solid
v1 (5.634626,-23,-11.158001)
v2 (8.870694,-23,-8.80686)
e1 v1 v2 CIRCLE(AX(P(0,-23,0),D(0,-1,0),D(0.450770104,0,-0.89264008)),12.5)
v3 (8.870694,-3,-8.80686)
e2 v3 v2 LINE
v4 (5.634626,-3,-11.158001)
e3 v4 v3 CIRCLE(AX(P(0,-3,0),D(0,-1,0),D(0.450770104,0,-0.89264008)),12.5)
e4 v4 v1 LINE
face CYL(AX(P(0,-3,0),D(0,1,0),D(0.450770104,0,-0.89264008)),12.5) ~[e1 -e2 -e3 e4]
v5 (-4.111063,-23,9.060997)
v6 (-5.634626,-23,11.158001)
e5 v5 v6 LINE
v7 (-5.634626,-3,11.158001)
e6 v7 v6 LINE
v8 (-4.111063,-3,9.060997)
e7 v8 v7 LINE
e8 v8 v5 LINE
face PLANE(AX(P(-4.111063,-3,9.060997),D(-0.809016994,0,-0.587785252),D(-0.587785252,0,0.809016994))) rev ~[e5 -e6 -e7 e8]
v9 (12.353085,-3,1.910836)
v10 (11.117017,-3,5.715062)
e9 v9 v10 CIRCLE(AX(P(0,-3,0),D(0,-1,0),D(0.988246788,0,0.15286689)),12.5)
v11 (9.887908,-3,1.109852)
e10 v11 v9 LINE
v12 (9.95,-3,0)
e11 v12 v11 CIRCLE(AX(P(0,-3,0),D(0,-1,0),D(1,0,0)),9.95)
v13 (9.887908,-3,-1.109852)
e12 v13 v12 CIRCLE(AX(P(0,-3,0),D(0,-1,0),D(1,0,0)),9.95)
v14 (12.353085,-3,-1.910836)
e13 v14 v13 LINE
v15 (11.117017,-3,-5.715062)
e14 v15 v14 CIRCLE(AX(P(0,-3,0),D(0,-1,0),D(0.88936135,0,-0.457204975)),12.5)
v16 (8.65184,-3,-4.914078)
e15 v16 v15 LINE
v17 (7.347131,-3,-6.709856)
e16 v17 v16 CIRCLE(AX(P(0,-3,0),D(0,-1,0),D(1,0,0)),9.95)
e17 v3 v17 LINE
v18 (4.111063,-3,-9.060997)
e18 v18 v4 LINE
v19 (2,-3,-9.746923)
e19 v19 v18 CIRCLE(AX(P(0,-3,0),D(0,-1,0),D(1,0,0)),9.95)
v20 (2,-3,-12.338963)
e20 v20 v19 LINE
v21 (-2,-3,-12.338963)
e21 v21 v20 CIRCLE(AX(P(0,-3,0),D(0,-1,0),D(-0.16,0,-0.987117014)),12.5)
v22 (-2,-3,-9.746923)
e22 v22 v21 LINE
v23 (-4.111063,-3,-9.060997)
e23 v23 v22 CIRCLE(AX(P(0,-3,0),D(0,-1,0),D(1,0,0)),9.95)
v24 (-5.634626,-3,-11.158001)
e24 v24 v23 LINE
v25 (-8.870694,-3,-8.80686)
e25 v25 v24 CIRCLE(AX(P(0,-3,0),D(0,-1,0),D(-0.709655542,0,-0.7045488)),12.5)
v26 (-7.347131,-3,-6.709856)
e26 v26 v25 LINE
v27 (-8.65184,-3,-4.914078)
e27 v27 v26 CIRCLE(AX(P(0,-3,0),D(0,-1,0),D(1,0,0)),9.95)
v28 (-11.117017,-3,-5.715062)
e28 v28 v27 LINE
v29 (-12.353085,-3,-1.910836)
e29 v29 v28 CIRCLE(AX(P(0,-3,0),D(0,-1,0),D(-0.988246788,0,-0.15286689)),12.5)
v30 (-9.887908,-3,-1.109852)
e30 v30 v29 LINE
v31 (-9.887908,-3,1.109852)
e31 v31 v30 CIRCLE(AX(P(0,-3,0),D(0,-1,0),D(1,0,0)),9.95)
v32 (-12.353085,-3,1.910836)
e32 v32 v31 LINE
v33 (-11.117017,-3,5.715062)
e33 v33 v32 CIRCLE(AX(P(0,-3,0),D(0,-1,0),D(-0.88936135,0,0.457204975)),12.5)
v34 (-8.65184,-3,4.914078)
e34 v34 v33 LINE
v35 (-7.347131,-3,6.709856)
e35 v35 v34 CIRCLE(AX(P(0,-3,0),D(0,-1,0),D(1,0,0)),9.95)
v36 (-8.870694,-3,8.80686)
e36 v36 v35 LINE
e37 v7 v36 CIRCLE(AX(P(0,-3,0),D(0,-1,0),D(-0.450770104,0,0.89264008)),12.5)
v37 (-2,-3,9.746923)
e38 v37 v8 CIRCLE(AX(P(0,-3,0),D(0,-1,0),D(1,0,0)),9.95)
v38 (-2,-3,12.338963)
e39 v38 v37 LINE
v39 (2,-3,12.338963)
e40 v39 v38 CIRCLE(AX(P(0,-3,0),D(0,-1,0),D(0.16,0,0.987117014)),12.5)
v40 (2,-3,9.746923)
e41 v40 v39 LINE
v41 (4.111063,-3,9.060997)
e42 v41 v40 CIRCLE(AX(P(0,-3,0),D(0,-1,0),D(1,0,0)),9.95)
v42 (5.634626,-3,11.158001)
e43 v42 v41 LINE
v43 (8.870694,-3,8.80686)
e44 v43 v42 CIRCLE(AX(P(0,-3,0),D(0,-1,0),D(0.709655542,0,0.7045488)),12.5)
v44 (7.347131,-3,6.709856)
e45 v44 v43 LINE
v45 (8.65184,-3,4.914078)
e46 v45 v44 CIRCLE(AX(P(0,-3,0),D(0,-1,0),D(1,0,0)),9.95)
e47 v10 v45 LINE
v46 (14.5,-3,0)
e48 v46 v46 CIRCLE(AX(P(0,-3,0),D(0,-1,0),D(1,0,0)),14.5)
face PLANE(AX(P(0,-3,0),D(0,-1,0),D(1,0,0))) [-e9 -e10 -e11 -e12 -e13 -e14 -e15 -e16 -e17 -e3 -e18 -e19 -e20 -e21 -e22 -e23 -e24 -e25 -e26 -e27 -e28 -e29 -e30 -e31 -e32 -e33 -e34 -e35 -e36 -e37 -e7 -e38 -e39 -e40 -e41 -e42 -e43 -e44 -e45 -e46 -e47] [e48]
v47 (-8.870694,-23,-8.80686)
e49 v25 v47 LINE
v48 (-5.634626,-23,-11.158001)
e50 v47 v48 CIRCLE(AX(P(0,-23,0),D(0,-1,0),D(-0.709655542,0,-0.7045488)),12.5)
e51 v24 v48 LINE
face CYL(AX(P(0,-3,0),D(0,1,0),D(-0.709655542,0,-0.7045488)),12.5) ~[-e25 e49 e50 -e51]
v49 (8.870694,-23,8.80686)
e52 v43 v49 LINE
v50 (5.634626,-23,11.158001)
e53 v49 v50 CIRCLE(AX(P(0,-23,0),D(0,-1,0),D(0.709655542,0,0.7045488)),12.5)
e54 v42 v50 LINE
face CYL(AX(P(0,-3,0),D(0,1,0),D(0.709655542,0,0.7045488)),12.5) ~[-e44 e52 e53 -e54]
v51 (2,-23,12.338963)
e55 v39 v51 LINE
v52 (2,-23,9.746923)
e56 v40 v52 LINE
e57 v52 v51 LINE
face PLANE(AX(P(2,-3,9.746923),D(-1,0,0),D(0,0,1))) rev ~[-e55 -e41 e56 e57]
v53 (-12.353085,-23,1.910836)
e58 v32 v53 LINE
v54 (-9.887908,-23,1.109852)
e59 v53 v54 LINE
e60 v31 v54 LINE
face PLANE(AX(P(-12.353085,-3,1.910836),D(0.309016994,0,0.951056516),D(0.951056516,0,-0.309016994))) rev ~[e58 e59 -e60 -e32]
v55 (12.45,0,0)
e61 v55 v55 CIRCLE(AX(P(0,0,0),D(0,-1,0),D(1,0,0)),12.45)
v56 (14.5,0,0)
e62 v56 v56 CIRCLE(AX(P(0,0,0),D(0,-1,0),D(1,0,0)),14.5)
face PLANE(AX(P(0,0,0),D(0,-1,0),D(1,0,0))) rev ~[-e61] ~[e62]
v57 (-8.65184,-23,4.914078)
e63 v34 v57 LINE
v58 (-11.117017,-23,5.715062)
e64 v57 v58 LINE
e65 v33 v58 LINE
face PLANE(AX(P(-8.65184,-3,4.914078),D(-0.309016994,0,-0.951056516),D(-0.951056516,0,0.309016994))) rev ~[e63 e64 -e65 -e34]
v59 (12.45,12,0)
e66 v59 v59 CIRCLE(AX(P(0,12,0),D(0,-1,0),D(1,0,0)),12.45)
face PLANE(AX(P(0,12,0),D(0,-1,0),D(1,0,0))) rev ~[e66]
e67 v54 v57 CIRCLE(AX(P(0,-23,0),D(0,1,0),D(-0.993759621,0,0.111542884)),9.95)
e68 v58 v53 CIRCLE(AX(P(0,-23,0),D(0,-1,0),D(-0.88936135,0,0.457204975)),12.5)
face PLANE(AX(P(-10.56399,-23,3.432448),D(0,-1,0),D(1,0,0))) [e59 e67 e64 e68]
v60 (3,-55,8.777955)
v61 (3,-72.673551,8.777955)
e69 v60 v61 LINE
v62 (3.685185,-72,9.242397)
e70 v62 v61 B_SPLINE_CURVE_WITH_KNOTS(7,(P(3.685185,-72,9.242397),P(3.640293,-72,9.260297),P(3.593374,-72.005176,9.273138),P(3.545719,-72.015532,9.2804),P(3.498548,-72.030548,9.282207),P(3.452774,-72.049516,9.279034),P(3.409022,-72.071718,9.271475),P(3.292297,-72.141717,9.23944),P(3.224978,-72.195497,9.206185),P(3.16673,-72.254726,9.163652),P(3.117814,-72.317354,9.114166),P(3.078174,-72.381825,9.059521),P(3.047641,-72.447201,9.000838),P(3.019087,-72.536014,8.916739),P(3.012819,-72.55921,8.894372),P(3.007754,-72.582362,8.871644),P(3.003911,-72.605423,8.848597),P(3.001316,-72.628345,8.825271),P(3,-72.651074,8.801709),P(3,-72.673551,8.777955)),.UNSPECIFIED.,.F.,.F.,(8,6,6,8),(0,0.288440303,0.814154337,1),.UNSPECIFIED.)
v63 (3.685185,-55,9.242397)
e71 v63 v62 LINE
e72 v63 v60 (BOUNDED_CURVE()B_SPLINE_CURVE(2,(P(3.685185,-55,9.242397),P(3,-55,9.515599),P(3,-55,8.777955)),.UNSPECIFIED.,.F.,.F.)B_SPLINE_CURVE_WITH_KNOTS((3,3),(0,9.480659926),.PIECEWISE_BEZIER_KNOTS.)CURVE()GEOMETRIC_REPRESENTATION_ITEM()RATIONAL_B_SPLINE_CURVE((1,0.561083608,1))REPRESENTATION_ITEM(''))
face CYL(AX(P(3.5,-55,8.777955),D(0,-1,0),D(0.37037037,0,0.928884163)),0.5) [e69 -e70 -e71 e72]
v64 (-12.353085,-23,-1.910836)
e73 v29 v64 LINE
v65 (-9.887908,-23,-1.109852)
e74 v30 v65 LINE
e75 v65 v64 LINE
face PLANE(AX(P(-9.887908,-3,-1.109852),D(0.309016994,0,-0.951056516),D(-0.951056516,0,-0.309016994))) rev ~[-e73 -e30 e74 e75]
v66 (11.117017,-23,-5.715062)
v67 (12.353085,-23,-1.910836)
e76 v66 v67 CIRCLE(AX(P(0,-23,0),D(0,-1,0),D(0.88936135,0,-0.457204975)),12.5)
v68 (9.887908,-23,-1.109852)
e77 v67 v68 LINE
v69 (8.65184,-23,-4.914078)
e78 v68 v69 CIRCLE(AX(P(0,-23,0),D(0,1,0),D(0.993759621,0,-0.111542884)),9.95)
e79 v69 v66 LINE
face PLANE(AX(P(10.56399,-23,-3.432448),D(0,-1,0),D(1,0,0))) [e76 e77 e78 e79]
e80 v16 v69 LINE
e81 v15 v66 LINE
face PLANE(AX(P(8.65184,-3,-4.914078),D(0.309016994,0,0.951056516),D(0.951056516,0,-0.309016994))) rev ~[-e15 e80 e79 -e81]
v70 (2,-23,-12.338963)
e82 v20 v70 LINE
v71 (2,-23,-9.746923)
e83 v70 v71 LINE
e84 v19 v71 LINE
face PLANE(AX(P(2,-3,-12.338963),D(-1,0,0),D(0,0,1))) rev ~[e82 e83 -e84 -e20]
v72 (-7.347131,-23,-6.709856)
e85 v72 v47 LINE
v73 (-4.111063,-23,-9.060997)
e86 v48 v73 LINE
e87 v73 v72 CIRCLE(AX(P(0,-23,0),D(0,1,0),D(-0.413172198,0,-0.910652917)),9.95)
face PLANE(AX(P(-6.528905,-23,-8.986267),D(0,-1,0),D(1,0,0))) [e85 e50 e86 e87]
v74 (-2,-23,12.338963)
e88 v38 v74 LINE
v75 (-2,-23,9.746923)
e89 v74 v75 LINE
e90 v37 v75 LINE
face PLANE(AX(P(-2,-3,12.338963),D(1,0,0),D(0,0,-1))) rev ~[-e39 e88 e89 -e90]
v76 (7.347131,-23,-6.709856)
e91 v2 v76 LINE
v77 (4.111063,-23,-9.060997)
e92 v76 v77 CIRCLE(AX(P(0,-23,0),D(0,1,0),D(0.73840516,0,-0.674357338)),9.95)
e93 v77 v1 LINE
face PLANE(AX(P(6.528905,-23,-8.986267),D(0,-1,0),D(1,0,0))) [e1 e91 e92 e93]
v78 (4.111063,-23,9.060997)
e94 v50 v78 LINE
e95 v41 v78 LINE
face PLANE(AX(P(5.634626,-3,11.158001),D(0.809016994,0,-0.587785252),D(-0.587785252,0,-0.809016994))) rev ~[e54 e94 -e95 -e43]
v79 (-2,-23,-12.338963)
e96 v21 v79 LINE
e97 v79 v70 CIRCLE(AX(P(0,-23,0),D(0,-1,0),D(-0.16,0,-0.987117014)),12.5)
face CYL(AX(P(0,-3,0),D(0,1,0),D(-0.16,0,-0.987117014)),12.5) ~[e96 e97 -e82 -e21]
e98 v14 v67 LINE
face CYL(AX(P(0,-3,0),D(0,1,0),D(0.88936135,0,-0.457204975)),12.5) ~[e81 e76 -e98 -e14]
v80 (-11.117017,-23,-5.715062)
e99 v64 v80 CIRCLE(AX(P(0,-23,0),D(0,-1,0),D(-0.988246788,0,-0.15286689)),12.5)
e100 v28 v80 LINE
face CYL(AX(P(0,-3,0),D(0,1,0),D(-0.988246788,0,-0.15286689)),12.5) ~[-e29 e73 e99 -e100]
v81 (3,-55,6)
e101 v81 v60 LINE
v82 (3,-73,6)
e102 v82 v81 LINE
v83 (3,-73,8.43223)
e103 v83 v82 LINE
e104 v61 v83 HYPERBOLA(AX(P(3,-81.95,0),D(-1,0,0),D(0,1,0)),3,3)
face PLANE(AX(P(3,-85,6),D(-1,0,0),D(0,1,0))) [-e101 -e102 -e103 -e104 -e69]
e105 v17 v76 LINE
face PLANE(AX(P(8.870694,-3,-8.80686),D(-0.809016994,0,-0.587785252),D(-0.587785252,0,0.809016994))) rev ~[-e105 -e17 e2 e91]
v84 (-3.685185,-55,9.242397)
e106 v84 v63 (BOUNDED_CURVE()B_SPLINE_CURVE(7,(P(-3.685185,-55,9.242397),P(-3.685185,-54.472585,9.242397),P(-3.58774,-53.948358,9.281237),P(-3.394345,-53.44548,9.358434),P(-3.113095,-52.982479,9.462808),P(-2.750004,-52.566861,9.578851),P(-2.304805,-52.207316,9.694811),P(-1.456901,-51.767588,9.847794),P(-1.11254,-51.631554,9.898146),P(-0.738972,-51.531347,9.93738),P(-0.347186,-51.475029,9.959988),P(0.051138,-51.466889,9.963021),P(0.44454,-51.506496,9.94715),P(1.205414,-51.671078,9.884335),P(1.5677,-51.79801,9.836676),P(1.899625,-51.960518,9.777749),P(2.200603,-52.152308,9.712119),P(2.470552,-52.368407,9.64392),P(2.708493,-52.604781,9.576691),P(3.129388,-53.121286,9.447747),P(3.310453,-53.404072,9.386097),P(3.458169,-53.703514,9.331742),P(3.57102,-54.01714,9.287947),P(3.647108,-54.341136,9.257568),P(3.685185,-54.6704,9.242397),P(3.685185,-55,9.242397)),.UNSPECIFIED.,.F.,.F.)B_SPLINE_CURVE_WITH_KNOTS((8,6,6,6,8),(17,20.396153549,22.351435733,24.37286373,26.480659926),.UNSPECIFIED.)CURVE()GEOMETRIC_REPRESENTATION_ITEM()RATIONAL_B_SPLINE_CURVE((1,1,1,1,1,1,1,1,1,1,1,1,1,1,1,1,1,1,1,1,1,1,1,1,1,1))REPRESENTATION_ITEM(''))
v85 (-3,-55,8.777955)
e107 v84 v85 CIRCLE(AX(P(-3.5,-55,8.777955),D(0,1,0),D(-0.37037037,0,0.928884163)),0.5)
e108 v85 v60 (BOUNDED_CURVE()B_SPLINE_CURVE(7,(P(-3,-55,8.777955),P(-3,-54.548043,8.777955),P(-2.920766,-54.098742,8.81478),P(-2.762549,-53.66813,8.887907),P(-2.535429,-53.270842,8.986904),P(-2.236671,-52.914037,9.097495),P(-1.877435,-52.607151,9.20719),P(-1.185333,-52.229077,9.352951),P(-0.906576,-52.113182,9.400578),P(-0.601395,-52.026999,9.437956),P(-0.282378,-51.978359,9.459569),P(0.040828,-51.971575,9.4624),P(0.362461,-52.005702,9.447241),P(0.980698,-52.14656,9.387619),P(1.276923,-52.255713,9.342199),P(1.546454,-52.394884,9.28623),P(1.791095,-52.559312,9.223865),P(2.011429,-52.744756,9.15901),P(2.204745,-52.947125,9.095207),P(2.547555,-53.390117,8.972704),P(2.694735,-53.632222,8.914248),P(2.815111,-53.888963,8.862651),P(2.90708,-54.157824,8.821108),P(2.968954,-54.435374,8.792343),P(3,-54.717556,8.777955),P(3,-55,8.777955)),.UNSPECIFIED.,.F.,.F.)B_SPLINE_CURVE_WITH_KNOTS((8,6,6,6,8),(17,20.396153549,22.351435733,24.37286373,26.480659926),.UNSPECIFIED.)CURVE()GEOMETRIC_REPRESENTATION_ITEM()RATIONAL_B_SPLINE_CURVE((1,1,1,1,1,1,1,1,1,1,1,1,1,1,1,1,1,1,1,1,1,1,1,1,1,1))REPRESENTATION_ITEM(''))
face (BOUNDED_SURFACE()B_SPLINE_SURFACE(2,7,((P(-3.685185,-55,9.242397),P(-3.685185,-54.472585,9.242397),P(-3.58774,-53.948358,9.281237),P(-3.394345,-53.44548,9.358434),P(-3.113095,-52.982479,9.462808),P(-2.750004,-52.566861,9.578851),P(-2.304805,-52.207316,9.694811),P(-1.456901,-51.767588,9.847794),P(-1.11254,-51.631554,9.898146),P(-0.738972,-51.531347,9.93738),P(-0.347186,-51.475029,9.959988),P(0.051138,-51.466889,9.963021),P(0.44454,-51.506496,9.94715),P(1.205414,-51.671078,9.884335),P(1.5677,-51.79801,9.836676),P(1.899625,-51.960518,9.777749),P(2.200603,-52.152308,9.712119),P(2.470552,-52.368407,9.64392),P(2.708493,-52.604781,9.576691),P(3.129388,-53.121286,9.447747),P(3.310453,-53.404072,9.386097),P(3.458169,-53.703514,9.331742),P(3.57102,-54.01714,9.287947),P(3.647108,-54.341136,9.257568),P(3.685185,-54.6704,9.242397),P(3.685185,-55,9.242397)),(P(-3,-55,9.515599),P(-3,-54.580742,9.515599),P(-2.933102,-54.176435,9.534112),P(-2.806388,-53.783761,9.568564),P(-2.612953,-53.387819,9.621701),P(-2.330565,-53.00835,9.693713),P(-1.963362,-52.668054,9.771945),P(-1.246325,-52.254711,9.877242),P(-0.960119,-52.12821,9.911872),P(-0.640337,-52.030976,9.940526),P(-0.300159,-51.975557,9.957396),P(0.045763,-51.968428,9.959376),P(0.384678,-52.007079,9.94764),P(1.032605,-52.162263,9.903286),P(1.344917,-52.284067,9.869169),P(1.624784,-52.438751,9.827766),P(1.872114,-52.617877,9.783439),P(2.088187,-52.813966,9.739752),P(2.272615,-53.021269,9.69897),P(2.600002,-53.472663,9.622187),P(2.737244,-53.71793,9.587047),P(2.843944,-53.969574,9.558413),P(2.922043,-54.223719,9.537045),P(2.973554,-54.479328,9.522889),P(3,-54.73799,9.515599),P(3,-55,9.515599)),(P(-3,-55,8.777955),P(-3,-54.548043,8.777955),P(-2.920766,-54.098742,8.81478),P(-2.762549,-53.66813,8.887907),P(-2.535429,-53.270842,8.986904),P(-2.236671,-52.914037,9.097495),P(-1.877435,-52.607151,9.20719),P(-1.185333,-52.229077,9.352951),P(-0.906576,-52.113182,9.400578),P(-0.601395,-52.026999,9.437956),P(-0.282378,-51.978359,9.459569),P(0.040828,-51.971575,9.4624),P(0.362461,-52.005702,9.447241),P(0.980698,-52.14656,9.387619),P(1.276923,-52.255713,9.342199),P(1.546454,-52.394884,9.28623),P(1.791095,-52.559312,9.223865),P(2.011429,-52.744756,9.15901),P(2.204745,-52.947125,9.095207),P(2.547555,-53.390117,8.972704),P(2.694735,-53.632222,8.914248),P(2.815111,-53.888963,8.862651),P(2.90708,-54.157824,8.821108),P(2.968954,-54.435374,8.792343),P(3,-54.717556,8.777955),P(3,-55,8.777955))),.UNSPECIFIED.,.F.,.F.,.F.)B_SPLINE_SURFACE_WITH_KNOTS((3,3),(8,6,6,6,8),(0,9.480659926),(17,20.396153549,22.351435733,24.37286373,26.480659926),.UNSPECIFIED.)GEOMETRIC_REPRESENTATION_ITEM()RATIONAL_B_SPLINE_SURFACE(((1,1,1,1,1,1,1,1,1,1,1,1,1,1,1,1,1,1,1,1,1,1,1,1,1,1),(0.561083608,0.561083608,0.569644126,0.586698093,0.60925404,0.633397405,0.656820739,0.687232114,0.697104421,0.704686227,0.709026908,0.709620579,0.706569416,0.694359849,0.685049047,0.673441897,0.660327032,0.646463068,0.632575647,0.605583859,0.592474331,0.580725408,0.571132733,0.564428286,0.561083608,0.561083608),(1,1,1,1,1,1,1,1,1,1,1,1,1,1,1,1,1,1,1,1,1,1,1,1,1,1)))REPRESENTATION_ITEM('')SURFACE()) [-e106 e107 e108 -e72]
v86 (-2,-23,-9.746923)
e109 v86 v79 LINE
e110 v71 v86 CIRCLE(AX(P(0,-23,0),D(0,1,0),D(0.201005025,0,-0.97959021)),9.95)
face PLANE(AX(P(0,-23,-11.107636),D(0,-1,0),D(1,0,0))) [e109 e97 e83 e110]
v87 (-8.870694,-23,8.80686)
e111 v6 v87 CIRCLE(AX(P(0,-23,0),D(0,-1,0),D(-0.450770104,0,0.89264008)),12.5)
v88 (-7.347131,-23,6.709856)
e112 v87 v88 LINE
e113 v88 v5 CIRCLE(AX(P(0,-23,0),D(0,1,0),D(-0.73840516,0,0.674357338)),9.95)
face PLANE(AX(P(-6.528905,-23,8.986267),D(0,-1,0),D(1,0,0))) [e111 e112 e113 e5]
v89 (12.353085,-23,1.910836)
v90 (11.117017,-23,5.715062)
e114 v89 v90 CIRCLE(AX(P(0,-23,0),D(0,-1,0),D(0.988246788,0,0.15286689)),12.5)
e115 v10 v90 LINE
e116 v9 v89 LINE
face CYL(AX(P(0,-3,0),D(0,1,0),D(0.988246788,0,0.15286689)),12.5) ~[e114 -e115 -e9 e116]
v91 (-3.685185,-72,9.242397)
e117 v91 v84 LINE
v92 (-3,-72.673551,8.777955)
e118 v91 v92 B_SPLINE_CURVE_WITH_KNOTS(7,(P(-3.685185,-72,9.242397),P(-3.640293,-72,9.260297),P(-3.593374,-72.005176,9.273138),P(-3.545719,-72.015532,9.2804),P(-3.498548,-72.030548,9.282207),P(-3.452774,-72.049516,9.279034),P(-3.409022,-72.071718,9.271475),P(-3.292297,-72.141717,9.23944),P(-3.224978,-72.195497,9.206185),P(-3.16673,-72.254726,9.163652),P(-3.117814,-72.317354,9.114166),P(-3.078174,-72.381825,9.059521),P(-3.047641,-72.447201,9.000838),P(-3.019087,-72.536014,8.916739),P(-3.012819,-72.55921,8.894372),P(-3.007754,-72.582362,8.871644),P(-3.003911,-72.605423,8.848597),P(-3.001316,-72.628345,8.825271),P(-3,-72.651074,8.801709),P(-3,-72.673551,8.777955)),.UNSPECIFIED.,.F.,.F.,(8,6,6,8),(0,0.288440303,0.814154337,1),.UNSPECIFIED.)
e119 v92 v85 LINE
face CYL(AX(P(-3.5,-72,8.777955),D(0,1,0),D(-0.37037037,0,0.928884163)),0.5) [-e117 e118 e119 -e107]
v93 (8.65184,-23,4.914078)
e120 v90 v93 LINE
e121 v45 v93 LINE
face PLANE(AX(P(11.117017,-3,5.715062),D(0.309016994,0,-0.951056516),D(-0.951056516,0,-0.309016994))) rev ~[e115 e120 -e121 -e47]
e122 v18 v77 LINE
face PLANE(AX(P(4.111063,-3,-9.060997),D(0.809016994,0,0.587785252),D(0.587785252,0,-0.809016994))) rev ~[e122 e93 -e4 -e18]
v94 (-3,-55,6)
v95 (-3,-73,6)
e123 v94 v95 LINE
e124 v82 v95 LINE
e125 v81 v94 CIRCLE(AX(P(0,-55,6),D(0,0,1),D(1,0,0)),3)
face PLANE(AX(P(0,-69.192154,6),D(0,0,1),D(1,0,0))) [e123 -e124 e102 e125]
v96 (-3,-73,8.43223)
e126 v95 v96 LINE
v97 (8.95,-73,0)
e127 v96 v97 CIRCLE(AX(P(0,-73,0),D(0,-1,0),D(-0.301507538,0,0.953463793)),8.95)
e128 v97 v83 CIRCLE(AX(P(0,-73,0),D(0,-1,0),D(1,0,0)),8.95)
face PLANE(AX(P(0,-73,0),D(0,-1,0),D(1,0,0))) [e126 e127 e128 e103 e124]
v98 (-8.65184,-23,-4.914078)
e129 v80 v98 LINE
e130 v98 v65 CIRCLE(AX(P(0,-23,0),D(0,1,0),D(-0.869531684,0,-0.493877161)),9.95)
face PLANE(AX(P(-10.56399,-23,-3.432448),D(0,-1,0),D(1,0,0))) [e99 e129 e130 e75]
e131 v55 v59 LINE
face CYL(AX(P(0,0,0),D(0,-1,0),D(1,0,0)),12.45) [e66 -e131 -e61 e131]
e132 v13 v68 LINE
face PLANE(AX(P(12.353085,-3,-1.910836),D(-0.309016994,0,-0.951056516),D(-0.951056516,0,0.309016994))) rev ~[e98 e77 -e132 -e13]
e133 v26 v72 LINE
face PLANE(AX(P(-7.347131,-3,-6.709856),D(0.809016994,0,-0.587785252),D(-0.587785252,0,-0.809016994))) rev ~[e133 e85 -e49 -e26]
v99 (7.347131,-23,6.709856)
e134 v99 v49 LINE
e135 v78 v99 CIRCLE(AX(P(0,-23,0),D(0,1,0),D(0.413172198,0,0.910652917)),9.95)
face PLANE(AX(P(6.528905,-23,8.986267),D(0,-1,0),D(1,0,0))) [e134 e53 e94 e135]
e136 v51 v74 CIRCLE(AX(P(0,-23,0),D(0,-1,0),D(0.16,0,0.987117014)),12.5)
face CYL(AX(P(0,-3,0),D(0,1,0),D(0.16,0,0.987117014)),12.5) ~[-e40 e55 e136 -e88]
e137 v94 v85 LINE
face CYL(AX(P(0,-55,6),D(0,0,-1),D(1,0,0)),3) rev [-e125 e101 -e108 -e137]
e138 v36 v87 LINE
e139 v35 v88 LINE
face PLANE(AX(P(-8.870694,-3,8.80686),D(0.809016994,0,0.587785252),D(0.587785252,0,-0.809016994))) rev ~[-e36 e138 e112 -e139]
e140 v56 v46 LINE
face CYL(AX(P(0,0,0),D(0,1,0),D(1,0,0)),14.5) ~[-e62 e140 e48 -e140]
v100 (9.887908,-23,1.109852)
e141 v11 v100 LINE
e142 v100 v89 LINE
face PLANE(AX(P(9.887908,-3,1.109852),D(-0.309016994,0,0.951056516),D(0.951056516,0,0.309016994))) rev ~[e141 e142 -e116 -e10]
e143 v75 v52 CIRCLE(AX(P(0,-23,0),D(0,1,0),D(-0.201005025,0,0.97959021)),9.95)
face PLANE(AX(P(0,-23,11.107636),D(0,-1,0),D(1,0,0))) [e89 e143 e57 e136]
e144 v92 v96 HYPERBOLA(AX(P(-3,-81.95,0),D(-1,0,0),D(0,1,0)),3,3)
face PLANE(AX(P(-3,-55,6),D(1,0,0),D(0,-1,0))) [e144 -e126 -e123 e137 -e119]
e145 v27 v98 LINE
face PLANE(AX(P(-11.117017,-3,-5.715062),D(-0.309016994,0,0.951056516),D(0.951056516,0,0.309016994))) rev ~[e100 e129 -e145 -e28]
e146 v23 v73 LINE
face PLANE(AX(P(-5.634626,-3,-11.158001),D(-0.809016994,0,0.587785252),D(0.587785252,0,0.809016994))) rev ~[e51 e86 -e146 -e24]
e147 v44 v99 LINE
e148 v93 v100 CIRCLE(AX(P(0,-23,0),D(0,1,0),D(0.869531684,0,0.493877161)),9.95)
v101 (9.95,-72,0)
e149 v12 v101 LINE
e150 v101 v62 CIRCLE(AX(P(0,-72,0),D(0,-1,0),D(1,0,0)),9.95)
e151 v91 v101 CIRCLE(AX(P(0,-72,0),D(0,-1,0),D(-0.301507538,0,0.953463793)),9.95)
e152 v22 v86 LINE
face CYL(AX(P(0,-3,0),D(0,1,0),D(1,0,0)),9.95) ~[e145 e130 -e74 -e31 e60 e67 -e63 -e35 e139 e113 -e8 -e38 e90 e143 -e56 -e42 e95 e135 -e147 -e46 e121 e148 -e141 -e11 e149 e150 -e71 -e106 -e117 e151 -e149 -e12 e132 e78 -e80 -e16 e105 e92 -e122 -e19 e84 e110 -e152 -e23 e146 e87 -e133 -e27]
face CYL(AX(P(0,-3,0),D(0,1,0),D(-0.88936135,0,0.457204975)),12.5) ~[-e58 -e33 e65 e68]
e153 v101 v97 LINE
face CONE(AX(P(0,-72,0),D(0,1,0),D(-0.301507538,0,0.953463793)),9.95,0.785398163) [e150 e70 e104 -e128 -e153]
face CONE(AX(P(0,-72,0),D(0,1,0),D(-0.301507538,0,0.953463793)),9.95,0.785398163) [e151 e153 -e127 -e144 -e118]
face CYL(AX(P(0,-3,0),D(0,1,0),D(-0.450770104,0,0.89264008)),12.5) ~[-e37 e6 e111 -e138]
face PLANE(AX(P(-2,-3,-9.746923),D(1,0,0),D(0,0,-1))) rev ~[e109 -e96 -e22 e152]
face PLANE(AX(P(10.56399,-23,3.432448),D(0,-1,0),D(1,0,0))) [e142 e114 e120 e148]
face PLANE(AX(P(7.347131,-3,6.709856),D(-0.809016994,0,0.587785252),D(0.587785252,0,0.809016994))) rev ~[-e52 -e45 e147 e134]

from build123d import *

# Parameters (mm, degrees)
F0_R      = 12.45
F1_DEPTH  = 12
F2_R      = 14.5
F3_DEPTH  = 3
F4_R      = 9.95
F5_DEPTH  = 70
F7_DEPTH  = 20
F10_DEPTH = 10
F11_SIZE  = 1
F12_R     = 0.5


with BuildPart() as f1:
    # F0 (on Front) → F1 (new body)
    with BuildSketch(Plane.XZ):
        Circle(F0_R)
    extrude(amount=-F1_DEPTH)

    # F2 (on Front) → F3 (join)
    with BuildSketch(Plane.XZ):
        Circle(F2_R)
    extrude(amount=F3_DEPTH)

    # F4 (on face) → F5 (join)
    with BuildSketch(Plane.XZ.offset(3)):
        Circle(F4_R)
    extrude(amount=F5_DEPTH)

    # F6 (on face) → F7 (join)
    with BuildSketch(Plane.XZ.offset(3)):
        with BuildLine():
            Line((2, 9.7469225913), (2, 12.3389626793))
            ThreePointArc((2, 12.3389626793), (0, 12.5), (-2, 12.3389626793))
            Line((-2, 12.3389626793), (-2, 9.7469225913))
            ThreePointArc((-2, 9.7469225913), (0, 9.95), (2, 9.7469225913))
        make_face()
        with BuildLine():
            ThreePointArc((-7.3471313431, 6.7098555146), (-5.8484632603, 8.049719094), (-4.1110633656, 9.0609965238))
            Line((-4.1110633656, 9.0609965238), (-5.6346263027, 11.1580010051))
            ThreePointArc((-5.6346263027, 11.1580010051), (-7.3473156537, 10.1127124297), (-8.8706942802, 8.8068599959))
            Line((-8.8706942802, 8.8068599959), (-7.3471313431, 6.7098555146))
        make_face()
        with BuildLine():
            ThreePointArc((-9.887908233, 1.109851691), (-9.4630123371, 3.074719094), (-8.6518402555, 4.9140777561))
            Line((-8.6518402555, 4.9140777561), (-11.1170168717, 5.7150621934))
            ThreePointArc((-11.1170168717, 5.7150621934), (-11.8882064537, 3.8627124297), (-12.3530848492, 1.9108361283))
            Line((-12.3530848492, 1.9108361283), (-9.887908233, 1.109851691))
        make_face()
        with BuildLine():
            ThreePointArc((-8.6518402555, -4.9140777561), (-9.4630123371, -3.074719094), (-9.887908233, -1.109851691))
            Line((-9.887908233, -1.109851691), (-12.3530848492, -1.9108361283))
            ThreePointArc((-12.3530848492, -1.9108361283), (-11.8882064537, -3.8627124297), (-11.1170168717, -5.7150621934))
            Line((-11.1170168717, -5.7150621934), (-8.6518402555, -4.9140777561))
        make_face()
        with BuildLine():
            ThreePointArc((-4.1110633656, -9.0609965238), (-5.8484632603, -8.049719094), (-7.3471313431, -6.7098555146))
            Line((-7.3471313431, -6.7098555146), (-8.8706942802, -8.8068599959))
            ThreePointArc((-8.8706942802, -8.8068599959), (-7.3473156537, -10.1127124297), (-5.6346263027, -11.1580010051))
            Line((-5.6346263027, -11.1580010051), (-4.1110633656, -9.0609965238))
        make_face()
        with BuildLine():
            ThreePointArc((2, -9.7469225913), (0, -9.95), (-2, -9.7469225913))
            Line((-2, -9.7469225913), (-2, -12.3389626793))
            ThreePointArc((-2, -12.3389626793), (0, -12.5), (2, -12.3389626793))
            Line((2, -12.3389626793), (2, -9.7469225913))
        make_face()
        with BuildLine():
            Line((8.8706942802, -8.8068599959), (7.3471313431, -6.7098555146))
            ThreePointArc((7.3471313431, -6.7098555146), (5.8484632603, -8.049719094), (4.1110633656, -9.0609965238))
            Line((4.1110633656, -9.0609965238), (5.6346263027, -11.1580010051))
            ThreePointArc((5.6346263027, -11.1580010051), (7.3473156537, -10.1127124297), (8.8706942802, -8.8068599959))
        make_face()
        with BuildLine():
            Line((12.3530848492, -1.9108361283), (9.887908233, -1.109851691))
            ThreePointArc((9.887908233, -1.109851691), (9.4630123371, -3.074719094), (8.6518402555, -4.9140777561))
            Line((8.6518402555, -4.9140777561), (11.1170168717, -5.7150621934))
            ThreePointArc((11.1170168717, -5.7150621934), (11.8882064537, -3.8627124297), (12.3530848492, -1.9108361283))
        make_face()
        with BuildLine():
            Line((11.1170168717, 5.7150621934), (8.6518402555, 4.9140777561))
            ThreePointArc((8.6518402555, 4.9140777561), (9.4630123371, 3.074719094), (9.887908233, 1.109851691))
            Line((9.887908233, 1.109851691), (12.3530848492, 1.9108361283))
            ThreePointArc((12.3530848492, 1.9108361283), (11.8882064537, 3.8627124297), (11.1170168717, 5.7150621934))
        make_face()
        with BuildLine():
            Line((5.6346263027, 11.1580010051), (4.1110633656, 9.0609965238))
            ThreePointArc((4.1110633656, 9.0609965238), (5.8484632603, 8.049719094), (7.3471313431, 6.7098555146))
            Line((7.3471313431, 6.7098555146), (8.8706942802, 8.8068599959))
            ThreePointArc((8.8706942802, 8.8068599959), (7.3473156537, 10.1127124297), (5.6346263027, 11.1580010051))
        make_face()
    extrude(amount=F7_DEPTH)

    # F9 (on offset) → F10 (cut)
    with BuildSketch(Plane.XY.offset(6)):
        with BuildLine():
            Line((-3, -55), (-3, -85))
            Line((-3, -85), (3, -85))
            Line((3, -85), (3, -55))
            ThreePointArc((3, -55), (0, -52), (-3, -55))
        make_face()
    extrude(amount=F10_DEPTH, mode=Mode.SUBTRACT)

    # F11
    f11_edges = [f1.edges().sort_by_distance(p)[0] for p in [
        (-5.880157, -73, -8.026596),
    ]]
    chamfer(f11_edges, length=F11_SIZE)

    # F12
    f12_edges = [f1.edges().sort_by_distance(p)[0] for p in [
        (-3, -63.5, 9.486965),
        (0, -52, 9.95),
        (3, -63.5, 9.486965),
    ]]
    fillet(f12_edges, radius=F12_R)


solid = f1.part
